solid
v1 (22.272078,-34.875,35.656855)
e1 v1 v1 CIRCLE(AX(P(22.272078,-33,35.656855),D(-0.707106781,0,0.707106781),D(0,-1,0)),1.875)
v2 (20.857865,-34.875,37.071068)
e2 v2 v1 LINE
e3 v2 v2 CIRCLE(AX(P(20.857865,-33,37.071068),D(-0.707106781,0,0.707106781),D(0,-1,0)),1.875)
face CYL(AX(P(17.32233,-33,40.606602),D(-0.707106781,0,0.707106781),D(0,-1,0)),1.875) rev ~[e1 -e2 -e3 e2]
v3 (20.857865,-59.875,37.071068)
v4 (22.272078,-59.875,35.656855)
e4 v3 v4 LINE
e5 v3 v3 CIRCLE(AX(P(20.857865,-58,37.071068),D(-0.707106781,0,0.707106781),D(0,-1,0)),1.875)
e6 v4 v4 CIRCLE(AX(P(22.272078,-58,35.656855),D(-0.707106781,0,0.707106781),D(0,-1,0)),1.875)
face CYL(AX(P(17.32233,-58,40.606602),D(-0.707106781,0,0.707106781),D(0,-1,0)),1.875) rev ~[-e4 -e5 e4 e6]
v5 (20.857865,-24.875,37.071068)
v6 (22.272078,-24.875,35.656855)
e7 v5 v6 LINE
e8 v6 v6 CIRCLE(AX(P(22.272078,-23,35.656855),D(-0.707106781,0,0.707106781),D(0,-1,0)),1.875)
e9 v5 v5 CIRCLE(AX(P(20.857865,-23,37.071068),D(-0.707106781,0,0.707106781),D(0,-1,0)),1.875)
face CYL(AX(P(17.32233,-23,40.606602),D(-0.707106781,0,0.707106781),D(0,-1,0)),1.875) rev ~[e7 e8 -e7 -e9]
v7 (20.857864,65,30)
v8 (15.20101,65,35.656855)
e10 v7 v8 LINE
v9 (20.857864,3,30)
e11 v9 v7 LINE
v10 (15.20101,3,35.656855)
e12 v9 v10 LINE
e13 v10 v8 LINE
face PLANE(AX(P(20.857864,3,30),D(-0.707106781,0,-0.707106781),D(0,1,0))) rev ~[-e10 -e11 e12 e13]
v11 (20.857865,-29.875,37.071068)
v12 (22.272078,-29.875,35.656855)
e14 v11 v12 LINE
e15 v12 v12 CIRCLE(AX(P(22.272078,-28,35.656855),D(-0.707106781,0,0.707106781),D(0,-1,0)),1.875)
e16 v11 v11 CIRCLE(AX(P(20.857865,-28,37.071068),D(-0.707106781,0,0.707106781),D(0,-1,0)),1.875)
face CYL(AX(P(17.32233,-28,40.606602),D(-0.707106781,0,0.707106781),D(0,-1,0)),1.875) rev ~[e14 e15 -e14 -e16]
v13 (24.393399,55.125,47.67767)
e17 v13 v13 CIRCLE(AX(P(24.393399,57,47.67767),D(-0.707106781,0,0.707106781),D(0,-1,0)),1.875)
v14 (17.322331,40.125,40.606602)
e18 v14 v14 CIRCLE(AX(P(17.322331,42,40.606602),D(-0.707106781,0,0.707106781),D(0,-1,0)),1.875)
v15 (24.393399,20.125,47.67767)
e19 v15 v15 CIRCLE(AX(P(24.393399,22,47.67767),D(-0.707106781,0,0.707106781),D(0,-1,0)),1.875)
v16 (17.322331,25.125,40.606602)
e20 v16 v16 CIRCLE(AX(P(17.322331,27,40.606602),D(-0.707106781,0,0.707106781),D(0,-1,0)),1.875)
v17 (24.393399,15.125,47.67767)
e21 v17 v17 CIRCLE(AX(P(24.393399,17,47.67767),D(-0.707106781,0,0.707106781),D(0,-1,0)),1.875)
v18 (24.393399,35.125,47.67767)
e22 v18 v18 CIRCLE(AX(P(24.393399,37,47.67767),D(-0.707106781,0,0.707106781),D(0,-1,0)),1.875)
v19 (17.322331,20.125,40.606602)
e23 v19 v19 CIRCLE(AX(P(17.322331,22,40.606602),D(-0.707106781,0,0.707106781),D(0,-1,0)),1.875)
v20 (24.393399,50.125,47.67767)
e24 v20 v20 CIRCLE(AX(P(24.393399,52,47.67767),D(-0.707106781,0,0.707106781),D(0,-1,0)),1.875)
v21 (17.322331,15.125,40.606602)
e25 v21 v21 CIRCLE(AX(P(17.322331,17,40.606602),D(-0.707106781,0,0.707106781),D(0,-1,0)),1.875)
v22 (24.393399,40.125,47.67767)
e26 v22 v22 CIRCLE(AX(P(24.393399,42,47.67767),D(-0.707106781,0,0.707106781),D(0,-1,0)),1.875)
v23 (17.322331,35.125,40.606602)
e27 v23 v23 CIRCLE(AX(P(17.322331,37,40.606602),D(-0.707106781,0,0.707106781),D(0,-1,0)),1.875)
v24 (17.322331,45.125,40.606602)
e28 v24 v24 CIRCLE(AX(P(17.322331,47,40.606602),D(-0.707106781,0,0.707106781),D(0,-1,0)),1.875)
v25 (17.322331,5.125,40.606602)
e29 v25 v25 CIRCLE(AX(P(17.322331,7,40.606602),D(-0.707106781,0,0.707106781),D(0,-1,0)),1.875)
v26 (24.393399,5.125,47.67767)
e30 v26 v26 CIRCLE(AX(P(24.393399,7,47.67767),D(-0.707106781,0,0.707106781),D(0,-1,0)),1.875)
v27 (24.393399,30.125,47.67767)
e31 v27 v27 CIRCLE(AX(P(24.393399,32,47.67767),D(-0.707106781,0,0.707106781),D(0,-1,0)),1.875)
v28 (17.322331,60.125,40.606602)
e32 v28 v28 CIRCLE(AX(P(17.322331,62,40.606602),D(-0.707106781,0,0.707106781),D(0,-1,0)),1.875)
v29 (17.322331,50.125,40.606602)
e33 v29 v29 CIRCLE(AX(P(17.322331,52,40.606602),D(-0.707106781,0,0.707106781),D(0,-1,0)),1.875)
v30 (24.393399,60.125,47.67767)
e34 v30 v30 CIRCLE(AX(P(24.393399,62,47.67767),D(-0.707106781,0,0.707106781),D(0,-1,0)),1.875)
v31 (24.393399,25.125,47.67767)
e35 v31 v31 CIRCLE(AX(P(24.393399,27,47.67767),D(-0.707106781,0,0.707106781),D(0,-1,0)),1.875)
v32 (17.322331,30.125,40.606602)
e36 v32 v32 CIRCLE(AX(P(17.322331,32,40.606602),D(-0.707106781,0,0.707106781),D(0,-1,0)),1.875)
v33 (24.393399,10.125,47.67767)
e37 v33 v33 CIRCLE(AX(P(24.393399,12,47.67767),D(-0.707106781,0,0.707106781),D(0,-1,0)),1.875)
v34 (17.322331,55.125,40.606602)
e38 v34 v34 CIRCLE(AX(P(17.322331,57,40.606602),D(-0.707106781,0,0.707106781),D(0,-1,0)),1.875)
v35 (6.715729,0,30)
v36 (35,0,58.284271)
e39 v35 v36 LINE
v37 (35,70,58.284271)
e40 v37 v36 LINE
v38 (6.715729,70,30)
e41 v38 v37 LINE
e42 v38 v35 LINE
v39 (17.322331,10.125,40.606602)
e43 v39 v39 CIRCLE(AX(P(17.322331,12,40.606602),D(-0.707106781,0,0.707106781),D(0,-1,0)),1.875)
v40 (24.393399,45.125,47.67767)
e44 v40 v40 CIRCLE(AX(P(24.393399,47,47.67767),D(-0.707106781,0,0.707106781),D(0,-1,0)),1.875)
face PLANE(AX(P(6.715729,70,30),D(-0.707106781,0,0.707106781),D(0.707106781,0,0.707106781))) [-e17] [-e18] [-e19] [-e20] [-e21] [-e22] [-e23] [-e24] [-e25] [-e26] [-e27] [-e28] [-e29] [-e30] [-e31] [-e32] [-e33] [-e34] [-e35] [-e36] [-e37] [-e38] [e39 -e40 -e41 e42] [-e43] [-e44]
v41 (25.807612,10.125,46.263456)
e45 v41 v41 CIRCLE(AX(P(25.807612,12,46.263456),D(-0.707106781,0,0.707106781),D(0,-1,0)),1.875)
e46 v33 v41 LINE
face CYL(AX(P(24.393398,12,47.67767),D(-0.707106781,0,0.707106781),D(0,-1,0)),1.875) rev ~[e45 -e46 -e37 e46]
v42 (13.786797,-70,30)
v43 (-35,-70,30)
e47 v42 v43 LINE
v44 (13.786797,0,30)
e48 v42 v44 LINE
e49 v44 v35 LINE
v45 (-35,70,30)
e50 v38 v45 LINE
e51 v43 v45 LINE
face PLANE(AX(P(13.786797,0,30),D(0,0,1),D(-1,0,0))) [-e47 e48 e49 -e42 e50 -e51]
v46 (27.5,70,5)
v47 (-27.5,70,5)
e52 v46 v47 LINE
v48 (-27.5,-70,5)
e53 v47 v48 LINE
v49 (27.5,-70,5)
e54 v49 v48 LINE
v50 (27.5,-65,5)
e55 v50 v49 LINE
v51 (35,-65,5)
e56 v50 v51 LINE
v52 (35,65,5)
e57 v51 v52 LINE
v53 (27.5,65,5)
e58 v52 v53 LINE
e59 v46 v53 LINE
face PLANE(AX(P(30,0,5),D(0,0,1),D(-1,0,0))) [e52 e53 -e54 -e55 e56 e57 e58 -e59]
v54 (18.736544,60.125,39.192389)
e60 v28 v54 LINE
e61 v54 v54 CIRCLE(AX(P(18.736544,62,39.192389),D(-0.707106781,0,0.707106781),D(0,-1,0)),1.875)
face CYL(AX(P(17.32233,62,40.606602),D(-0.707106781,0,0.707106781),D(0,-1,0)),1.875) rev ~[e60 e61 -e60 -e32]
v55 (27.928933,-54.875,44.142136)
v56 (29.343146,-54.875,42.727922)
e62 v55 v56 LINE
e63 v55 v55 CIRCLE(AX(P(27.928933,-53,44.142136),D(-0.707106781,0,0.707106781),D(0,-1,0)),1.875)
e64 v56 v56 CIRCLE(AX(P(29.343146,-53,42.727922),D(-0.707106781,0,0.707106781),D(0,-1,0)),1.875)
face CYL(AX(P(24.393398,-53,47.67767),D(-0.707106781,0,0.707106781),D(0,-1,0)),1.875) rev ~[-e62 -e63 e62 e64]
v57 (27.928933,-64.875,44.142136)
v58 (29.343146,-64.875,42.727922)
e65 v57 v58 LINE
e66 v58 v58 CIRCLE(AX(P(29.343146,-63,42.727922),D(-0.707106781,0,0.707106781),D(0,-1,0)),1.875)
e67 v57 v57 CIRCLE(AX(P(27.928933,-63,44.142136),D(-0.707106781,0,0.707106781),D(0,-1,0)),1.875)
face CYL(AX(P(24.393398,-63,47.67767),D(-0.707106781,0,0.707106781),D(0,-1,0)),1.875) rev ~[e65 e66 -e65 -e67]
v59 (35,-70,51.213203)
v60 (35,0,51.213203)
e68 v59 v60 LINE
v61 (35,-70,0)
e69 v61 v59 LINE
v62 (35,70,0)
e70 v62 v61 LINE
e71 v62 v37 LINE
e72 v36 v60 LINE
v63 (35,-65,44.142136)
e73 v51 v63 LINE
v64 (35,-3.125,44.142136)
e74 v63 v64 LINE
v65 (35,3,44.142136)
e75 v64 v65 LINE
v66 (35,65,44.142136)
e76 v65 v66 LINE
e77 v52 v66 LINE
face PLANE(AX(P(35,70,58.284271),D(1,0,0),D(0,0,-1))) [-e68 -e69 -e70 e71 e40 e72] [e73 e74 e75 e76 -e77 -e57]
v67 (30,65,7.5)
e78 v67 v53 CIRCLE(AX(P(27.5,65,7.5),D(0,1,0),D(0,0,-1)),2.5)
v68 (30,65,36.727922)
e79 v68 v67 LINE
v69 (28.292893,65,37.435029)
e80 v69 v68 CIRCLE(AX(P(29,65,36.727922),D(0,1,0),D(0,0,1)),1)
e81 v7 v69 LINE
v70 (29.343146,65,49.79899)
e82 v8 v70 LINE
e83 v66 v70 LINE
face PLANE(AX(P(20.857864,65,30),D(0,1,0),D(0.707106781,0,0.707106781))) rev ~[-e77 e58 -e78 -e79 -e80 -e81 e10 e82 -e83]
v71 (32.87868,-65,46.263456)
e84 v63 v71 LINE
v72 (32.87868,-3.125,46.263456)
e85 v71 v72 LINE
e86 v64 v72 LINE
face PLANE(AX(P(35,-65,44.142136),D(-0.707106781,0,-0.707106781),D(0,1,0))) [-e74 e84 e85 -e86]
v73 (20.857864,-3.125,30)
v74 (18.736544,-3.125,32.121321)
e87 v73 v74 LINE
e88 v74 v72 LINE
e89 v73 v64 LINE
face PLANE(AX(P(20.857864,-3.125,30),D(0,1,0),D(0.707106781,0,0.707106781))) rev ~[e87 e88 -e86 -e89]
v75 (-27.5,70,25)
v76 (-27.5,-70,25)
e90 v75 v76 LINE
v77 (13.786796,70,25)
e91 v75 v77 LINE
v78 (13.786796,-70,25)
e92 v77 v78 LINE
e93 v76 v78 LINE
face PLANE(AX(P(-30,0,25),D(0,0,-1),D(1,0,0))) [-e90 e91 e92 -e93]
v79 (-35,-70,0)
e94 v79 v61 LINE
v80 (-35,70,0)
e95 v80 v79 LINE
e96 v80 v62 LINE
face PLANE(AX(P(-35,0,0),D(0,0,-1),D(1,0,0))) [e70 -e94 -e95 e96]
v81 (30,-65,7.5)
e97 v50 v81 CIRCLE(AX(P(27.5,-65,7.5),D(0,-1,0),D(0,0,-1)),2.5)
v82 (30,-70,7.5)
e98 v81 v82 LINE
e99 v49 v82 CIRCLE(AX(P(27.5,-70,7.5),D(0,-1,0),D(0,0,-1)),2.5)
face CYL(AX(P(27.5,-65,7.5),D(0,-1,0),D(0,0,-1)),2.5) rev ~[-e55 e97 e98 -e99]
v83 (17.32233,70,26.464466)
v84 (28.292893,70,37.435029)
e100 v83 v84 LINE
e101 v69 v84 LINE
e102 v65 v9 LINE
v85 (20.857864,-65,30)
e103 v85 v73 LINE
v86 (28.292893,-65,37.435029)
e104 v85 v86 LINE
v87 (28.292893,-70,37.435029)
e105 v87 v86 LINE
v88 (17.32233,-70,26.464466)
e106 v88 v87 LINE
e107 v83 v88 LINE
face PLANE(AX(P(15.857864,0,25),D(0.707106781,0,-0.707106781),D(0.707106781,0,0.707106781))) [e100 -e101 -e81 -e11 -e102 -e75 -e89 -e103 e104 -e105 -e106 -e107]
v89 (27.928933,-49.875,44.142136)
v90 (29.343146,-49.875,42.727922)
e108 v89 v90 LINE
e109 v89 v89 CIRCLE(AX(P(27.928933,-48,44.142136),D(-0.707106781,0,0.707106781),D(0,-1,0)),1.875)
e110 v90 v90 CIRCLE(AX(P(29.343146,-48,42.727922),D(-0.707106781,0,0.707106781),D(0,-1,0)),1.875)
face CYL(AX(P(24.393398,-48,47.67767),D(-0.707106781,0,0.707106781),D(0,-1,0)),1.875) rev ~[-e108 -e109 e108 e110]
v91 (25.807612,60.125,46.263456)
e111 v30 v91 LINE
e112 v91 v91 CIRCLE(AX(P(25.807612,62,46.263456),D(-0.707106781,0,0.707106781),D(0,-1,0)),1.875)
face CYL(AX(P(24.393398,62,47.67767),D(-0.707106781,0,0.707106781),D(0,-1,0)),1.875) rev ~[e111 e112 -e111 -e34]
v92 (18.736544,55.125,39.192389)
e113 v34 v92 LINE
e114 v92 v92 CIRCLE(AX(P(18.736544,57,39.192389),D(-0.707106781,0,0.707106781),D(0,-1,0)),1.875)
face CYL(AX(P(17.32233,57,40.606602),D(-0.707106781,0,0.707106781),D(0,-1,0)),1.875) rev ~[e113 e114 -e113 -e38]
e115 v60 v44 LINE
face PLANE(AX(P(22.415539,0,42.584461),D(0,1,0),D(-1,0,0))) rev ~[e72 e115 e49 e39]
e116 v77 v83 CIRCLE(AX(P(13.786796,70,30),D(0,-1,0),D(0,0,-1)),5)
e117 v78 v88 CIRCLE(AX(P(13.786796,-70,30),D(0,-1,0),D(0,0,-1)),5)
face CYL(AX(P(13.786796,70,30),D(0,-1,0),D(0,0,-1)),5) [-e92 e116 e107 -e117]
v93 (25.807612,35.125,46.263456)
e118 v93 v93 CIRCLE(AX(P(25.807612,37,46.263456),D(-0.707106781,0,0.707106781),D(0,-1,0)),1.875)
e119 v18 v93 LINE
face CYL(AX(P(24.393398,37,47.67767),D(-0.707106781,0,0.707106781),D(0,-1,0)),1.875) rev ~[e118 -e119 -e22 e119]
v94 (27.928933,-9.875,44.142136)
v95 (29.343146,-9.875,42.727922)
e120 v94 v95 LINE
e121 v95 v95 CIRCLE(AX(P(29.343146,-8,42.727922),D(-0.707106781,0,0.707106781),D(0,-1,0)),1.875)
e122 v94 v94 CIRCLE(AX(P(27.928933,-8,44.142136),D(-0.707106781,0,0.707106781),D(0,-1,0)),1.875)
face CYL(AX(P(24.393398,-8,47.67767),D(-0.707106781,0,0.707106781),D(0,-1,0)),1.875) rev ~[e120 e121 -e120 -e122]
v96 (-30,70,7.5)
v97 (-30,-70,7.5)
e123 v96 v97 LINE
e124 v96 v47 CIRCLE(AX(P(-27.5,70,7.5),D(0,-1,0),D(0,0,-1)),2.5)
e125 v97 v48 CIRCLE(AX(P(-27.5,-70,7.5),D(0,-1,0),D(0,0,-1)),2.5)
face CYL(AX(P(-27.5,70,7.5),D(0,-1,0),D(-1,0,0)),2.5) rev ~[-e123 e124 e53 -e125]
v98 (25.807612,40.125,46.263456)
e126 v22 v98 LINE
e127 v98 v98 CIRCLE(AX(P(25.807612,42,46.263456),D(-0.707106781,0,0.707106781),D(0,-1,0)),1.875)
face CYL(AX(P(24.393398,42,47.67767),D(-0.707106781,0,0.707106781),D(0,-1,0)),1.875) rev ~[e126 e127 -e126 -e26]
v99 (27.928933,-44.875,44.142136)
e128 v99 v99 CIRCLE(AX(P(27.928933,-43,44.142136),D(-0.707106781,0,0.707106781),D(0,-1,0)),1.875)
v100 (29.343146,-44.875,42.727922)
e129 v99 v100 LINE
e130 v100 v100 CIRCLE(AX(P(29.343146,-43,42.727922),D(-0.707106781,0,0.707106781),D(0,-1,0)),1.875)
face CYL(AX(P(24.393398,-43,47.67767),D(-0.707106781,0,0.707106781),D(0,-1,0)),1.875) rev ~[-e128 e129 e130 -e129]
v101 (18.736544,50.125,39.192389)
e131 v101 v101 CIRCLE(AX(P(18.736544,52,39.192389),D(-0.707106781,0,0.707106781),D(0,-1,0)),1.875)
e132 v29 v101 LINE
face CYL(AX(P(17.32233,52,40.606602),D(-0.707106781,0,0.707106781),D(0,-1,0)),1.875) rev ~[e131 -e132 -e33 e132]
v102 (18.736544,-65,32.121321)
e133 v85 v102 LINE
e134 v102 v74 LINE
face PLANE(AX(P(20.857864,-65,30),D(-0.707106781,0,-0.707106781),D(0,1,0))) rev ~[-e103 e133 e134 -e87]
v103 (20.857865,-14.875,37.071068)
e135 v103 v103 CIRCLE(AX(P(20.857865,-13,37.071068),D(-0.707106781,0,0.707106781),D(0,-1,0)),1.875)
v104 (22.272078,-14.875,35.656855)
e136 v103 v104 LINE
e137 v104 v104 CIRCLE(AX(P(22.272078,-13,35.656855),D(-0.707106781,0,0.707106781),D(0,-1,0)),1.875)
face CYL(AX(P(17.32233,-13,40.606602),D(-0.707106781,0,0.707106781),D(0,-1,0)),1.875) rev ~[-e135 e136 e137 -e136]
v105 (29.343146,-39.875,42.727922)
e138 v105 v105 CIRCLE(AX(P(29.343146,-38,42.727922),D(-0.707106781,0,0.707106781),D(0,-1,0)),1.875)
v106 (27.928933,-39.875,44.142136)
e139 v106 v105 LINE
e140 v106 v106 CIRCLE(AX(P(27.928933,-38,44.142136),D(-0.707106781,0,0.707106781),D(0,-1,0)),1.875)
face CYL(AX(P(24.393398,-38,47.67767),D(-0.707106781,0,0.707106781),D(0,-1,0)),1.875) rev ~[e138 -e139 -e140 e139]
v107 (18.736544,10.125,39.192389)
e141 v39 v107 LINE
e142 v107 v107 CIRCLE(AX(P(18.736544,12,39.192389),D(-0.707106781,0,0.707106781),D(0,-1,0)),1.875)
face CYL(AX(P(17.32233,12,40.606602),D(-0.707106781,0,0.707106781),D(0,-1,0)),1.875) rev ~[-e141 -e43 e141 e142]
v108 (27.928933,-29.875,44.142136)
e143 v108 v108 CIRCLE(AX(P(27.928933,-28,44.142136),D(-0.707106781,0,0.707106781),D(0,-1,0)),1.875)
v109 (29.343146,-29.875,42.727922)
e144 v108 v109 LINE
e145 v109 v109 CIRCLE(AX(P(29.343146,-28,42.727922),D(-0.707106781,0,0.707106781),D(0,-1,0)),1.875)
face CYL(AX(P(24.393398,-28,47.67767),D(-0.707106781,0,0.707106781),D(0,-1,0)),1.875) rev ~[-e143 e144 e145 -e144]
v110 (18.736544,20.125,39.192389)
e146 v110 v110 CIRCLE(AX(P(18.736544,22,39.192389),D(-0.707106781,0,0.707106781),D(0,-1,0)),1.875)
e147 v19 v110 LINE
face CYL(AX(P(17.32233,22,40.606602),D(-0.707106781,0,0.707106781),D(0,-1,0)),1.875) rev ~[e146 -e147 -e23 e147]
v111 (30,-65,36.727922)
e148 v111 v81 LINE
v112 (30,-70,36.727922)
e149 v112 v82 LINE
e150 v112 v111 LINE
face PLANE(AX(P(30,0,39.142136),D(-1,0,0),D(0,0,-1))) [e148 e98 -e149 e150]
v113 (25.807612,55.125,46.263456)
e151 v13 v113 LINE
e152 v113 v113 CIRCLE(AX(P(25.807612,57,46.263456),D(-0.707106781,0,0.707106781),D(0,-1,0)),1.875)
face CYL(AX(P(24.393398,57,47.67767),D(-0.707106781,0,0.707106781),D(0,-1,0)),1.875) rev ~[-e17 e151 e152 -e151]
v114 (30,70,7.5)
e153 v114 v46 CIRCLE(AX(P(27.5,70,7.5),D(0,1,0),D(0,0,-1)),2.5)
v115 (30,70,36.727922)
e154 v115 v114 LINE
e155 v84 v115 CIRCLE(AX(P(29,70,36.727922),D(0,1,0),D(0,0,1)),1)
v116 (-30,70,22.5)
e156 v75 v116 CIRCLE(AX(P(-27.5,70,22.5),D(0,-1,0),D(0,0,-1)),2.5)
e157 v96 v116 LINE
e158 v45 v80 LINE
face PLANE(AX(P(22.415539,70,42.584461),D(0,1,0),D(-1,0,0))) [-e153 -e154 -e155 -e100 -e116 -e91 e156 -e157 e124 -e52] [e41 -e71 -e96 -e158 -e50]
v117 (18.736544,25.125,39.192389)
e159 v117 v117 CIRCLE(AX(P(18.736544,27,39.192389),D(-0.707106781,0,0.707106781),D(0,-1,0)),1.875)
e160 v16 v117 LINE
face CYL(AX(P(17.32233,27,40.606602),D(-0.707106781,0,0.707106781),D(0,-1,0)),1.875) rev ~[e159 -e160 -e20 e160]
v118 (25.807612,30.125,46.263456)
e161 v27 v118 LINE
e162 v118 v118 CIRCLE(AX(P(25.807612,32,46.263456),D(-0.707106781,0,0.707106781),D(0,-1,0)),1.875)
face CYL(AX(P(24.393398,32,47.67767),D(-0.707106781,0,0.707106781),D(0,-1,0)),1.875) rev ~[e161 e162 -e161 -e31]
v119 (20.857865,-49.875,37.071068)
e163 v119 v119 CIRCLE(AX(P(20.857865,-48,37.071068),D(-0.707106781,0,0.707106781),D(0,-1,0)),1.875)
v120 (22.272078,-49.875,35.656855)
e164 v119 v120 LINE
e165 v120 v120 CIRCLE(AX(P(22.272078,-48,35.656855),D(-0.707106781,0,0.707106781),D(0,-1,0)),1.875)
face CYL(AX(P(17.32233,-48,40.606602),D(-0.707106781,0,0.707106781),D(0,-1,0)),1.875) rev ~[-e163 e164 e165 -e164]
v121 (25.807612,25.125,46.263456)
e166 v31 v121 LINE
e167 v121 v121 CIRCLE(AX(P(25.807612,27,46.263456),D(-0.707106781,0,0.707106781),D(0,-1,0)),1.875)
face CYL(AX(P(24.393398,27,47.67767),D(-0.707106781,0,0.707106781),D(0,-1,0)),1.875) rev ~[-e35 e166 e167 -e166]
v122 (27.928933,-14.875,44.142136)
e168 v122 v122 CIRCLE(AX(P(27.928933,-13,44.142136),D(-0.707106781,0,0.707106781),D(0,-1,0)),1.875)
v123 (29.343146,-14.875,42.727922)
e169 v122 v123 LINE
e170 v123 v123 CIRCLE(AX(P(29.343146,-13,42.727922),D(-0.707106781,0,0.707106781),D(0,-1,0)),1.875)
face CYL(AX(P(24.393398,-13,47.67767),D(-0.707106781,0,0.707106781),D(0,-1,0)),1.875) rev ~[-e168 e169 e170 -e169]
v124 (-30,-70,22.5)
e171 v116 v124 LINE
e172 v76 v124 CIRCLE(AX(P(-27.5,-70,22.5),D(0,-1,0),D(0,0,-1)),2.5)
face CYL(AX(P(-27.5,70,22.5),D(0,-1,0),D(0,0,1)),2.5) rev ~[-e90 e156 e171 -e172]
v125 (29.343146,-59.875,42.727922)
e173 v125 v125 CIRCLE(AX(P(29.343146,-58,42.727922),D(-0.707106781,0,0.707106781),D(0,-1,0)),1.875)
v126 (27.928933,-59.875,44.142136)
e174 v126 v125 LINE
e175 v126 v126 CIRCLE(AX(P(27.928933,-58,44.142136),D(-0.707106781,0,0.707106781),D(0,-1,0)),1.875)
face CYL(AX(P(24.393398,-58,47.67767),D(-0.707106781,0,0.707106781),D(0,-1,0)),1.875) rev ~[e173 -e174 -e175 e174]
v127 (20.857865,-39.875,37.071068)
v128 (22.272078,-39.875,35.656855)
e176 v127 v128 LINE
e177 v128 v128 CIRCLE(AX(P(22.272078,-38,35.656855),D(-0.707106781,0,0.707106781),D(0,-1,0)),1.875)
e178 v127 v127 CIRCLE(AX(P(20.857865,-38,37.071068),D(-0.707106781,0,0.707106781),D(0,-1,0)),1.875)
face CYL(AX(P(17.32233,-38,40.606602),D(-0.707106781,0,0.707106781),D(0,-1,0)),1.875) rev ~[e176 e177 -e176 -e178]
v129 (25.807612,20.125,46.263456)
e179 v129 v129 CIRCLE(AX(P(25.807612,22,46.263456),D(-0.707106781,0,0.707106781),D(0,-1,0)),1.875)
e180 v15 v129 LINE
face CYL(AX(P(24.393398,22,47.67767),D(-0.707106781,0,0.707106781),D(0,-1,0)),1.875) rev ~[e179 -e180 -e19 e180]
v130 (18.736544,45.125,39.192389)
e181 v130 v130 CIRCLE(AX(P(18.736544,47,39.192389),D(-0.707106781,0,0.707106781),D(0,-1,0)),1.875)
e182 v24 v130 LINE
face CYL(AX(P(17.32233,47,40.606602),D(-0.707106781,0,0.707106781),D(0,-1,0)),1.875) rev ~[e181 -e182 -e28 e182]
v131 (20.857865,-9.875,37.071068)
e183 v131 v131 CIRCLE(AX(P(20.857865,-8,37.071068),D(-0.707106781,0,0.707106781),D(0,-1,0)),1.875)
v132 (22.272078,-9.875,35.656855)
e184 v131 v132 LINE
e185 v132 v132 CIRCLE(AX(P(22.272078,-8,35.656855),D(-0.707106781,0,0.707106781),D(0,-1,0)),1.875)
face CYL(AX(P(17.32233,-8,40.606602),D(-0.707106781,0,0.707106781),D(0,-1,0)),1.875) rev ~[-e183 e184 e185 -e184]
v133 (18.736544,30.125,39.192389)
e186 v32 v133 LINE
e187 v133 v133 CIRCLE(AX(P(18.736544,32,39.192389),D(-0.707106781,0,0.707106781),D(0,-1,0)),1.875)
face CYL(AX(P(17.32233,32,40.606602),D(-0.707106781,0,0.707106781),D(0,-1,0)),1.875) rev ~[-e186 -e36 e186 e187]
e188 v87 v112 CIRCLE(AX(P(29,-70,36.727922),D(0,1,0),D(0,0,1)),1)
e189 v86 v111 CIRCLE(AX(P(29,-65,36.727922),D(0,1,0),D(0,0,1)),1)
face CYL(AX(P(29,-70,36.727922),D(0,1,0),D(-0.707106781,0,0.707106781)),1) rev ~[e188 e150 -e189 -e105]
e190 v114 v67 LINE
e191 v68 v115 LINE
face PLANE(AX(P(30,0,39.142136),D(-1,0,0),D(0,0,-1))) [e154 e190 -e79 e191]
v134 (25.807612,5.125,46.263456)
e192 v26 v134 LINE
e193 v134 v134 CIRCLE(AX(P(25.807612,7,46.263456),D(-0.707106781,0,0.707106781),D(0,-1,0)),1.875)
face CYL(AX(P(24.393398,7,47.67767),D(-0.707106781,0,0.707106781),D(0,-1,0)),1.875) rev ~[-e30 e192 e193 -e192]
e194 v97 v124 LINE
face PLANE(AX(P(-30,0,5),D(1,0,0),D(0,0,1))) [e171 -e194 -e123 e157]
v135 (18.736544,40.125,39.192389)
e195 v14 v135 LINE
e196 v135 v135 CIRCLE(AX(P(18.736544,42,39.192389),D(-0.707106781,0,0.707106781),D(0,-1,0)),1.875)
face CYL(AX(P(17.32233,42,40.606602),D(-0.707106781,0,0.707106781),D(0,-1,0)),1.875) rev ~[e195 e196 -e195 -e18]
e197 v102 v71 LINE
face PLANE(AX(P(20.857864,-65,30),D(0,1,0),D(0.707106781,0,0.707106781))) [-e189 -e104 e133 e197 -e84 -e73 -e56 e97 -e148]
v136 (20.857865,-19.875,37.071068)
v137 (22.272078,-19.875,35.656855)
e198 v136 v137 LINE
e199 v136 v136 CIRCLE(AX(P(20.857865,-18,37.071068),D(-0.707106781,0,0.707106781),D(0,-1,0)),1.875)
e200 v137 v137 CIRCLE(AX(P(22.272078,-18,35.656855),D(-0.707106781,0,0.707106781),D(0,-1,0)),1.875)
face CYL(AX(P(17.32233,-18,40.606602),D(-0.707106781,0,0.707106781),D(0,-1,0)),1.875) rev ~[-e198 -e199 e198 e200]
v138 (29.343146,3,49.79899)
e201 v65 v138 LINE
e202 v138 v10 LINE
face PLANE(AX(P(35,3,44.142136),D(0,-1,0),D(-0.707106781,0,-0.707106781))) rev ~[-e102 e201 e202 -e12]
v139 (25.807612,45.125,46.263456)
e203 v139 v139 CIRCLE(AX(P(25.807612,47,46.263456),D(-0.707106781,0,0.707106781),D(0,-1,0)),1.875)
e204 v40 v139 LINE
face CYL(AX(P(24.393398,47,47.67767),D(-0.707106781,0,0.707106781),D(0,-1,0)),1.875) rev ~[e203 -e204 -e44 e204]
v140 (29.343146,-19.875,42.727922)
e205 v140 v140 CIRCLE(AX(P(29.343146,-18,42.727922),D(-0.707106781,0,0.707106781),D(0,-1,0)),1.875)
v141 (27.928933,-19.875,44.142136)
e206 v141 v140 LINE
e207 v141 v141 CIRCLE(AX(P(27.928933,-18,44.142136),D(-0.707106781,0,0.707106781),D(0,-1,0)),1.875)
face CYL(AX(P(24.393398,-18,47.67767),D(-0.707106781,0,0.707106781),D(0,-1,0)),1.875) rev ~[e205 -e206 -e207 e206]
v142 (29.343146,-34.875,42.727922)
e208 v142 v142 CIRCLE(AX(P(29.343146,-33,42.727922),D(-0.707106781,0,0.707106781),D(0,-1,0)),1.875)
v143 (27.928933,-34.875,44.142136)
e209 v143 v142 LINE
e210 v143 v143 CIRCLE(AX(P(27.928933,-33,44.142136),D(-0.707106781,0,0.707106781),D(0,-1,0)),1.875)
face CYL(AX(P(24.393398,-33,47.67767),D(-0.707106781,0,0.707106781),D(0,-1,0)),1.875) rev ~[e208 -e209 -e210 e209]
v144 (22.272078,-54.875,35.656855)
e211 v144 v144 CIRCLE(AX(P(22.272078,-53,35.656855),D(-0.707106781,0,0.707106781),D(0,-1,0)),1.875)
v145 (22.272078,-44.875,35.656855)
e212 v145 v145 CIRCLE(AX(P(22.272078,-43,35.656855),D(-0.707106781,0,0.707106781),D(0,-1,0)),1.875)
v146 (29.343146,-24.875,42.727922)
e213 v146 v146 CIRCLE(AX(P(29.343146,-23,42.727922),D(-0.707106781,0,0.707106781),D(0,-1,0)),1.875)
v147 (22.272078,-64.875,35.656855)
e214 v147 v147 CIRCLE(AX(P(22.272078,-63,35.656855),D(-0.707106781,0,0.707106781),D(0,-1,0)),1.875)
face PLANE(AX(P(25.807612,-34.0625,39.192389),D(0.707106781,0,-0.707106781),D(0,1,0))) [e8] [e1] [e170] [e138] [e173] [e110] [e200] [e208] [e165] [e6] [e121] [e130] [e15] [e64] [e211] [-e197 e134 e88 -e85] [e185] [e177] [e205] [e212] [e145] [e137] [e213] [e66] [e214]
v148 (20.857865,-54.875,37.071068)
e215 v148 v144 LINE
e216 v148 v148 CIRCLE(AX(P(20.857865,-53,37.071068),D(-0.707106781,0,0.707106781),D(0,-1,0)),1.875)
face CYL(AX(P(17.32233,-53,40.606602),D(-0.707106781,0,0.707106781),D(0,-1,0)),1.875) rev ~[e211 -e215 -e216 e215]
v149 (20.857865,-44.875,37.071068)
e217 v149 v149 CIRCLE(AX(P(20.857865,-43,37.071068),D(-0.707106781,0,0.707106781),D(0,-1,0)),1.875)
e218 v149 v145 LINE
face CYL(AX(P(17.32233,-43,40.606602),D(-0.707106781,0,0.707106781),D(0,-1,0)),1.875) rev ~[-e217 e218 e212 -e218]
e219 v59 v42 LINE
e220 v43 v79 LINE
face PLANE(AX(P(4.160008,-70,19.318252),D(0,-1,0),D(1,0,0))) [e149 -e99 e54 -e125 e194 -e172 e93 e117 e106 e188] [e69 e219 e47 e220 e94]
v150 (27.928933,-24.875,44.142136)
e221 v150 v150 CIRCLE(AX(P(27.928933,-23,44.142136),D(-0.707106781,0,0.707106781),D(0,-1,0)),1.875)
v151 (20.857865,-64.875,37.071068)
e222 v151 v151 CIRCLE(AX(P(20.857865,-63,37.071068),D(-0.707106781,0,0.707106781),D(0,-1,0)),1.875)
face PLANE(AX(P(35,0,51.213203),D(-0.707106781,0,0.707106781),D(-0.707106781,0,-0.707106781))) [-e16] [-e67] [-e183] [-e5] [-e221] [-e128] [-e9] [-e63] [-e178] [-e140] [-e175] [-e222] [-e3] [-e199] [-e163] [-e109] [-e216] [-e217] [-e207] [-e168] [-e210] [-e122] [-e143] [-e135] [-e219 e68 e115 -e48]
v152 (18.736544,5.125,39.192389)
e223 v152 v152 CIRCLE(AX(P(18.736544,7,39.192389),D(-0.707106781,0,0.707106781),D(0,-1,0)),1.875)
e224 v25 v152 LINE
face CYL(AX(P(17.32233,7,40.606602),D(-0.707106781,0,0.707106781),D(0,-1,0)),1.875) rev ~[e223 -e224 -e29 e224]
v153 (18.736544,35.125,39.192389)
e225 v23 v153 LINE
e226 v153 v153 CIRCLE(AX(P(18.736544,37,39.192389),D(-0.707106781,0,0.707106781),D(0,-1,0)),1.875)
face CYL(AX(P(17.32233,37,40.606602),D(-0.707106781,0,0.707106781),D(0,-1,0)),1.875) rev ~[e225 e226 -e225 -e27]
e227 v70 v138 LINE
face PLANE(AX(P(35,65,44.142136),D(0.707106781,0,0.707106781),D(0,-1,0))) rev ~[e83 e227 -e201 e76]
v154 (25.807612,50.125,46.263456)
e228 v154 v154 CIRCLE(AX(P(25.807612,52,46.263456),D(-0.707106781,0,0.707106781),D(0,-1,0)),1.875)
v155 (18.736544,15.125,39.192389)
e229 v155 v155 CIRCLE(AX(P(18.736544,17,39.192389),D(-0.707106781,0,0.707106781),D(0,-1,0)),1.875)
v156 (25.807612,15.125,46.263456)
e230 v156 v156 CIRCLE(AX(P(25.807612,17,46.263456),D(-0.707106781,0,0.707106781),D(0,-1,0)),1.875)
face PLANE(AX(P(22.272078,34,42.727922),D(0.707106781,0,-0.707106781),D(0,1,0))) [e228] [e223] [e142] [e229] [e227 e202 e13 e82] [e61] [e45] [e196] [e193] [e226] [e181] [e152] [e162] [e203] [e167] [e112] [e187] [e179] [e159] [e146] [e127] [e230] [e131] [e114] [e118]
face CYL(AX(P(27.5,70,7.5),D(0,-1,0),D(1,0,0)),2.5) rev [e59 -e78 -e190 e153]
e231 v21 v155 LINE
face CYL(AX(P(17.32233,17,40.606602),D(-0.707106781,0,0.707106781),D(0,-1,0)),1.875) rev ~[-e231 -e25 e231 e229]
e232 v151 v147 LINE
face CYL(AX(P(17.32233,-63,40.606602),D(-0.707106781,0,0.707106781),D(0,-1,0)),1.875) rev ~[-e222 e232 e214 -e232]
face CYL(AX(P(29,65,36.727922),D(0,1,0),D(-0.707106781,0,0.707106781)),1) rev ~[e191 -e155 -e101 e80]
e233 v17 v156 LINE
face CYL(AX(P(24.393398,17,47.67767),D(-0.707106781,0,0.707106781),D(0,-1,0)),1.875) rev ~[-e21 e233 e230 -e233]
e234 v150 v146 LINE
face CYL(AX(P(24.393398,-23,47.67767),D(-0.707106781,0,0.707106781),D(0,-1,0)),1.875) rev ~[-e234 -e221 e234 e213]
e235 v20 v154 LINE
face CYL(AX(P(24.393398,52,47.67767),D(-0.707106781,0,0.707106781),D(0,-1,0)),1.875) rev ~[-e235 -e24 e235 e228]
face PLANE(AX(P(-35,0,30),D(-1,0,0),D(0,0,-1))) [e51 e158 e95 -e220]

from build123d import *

# Parameters (mm, degrees)
F1_DEPTH  = 70
F3_DEPTH  = 65
F5_DEPTH  = 70
F6_R      = 2.5
F7_R      = 5
F8_R      = 1
F9_R      = 1.875
F10_DEPTH = 41.214203
F11_W     = 61.875
F11_H     = 20
F12_DEPTH = 3
F13_R     = 1.875
F14_DEPTH = 8


with BuildPart() as f1:
    # F0 (on Front) → F1 (new body, symmetric)
    with BuildSketch(Plane.XZ):
        Polygon((-35, 30), (-35, 0), (35, 0), (35, 30), (35, 51.213203), (13.786797, 30), align=None)
        Polygon((30, 5), (-30, 5), (-30, 25), (15.857864, 25), (30, 39.142136), (30, 30), align=None, mode=Mode.SUBTRACT)
    extrude(amount=F1_DEPTH, both=True)

    # F2 (on Front) → F3 (cut, symmetric)
    with BuildSketch(Plane.XZ):
        Polygon((35, 44.142136), (30, 39.142136), (30, 5), (35, 5), align=None)
    extrude(amount=F3_DEPTH, both=True, mode=Mode.SUBTRACT)

    # F4 (on face) → F5 (join)
    with BuildSketch(Plane(origin=(0, 70, 0), x_dir=(-1, 0, 0), z_dir=(0, 1, 0))):
        Polygon((-13.786797, 30), (-6.715729, 30), (-35, 58.284271), (-35, 51.213203), align=None)
    extrude(amount=-F5_DEPTH)

    # F6
    f6_edges = [f1.edges().sort_by_distance(p)[0] for p in [
        (-30, 0, 5),
        (-30, 0, 25),
        (30, 67.5, 5),
        (30, -67.5, 5),
    ]]
    fillet(f6_edges, radius=F6_R)

    # F7
    f7_edges = [f1.edges().sort_by_distance(p)[0] for p in [
        (15.857864, 0, 25),
    ]]
    fillet(f7_edges, radius=F7_R)

    # F8
    f8_edges = [f1.edges().sort_by_distance(p)[0] for p in [
        (30, 67.5, 39.142136),
        (30, -67.5, 39.142136),
    ]]
    fillet(f8_edges, radius=F8_R)

    # F9 (on face) → F10 (cut, through all)
    with BuildSketch(Plane(origin=(-11.642136, 0, 11.642136), x_dir=(0, -1, 0), z_dir=(-0.707107, 0, 0.707107))):
        with Locations((-62, 50.961941)):
            Circle(F9_R)
        with Locations((-57, 50.961941)):
            Circle(F9_R)
        with Locations((-52, 50.961941)):
            Circle(F9_R)
        with Locations((-47, 50.961941)):
            Circle(F9_R)
        with Locations((-42, 50.961941)):
            Circle(F9_R)
        with Locations((-37, 50.961941)):
            Circle(F9_R)
        with Locations((-32, 50.961941)):
            Circle(F9_R)
        with Locations((-27, 50.961941)):
            Circle(F9_R)
        with Locations((-22, 50.961941)):
            Circle(F9_R)
        with Locations((-17, 50.961941)):
            Circle(F9_R)
        with Locations((-12, 50.961941)):
            Circle(F9_R)
        with Locations((-7, 50.961941)):
            Circle(F9_R)
        with Locations((8, 50.961941)):
            Circle(F9_R)
        with Locations((13, 50.961941)):
            Circle(F9_R)
        with Locations((18, 50.961941)):
            Circle(F9_R)
        with Locations((23, 50.961941)):
            Circle(F9_R)
        with Locations((28, 50.961941)):
            Circle(F9_R)
        with Locations((33, 50.961941)):
            Circle(F9_R)
        with Locations((38, 50.961941)):
            Circle(F9_R)
        with Locations((43, 50.961941)):
            Circle(F9_R)
        with Locations((48, 50.961941)):
            Circle(F9_R)
        with Locations((53, 50.961941)):
            Circle(F9_R)
        with Locations((58, 50.961941)):
            Circle(F9_R)
        with Locations((63, 50.961941)):
            Circle(F9_R)
        with Locations((-62, 40.961941)):
            Circle(F9_R)
        with Locations((-57, 40.961941)):
            Circle(F9_R)
        with Locations((-52, 40.961941)):
            Circle(F9_R)
        with Locations((-47, 40.961941)):
            Circle(F9_R)
        with Locations((-42, 40.961941)):
            Circle(F9_R)
        with Locations((-37, 40.961941)):
            Circle(F9_R)
        with Locations((-32, 40.961941)):
            Circle(F9_R)
        with Locations((-27, 40.961941)):
            Circle(F9_R)
        with Locations((-22, 40.961941)):
            Circle(F9_R)
        with Locations((-17, 40.961941)):
            Circle(F9_R)
        with Locations((-12, 40.961941)):
            Circle(F9_R)
        with Locations((-7, 40.961941)):
            Circle(F9_R)
        with Locations((8, 40.961941)):
            Circle(F9_R)
        with Locations((13, 40.961941)):
            Circle(F9_R)
        with Locations((18, 40.961941)):
            Circle(F9_R)
        with Locations((23, 40.961941)):
            Circle(F9_R)
        with Locations((28, 40.961941)):
            Circle(F9_R)
        with Locations((33, 40.961941)):
            Circle(F9_R)
        with Locations((38, 40.961941)):
            Circle(F9_R)
        with Locations((43, 40.961941)):
            Circle(F9_R)
        with Locations((48, 40.961941)):
            Circle(F9_R)
        with Locations((53, 40.961941)):
            Circle(F9_R)
        with Locations((58, 40.961941)):
            Circle(F9_R)
        with Locations((63, 40.961941)):
            Circle(F9_R)
    extrude(amount=-F10_DEPTH, mode=Mode.SUBTRACT)

    # F11 (on face) → F12 (cut)
    with BuildSketch(Plane(origin=(-4.571068, 0, 4.571068), x_dir=(0, 1, 0), z_dir=(0.707107, 0, -0.707107))):
        with Locations((-34.0625, 45.961941)):
            Rectangle(F11_W, F11_H)
    extrude(amount=-F12_DEPTH, mode=Mode.SUBTRACT)

    # F13 (on face) → F14 (cut)
    with BuildSketch(Plane(origin=(-4.571068, 0, 4.571068), x_dir=(0, 1, 0), z_dir=(0.707107, 0, -0.707107))):
        Polygon((65, 55.961941), (3, 55.961941), (3, 35.961941), (65, 35.961941), (65, 46.47666), align=None)
        with Locations((7, 40.961941)):
            Circle(F13_R, mode=Mode.SUBTRACT)
        with Locations((12, 40.961941)):
            Circle(F13_R, mode=Mode.SUBTRACT)
        with Locations((17, 40.961941)):
            Circle(F13_R, mode=Mode.SUBTRACT)
        with Locations((22, 40.961941)):
            Circle(F13_R, mode=Mode.SUBTRACT)
        with Locations((27, 40.961941)):
            Circle(F13_R, mode=Mode.SUBTRACT)
        with Locations((32, 40.961941)):
            Circle(F13_R, mode=Mode.SUBTRACT)
        with Locations((37, 40.961941)):
            Circle(F13_R, mode=Mode.SUBTRACT)
        with Locations((42, 40.961941)):
            Circle(F13_R, mode=Mode.SUBTRACT)
        with Locations((47, 40.961941)):
            Circle(F13_R, mode=Mode.SUBTRACT)
        with Locations((52, 40.961941)):
            Circle(F13_R, mode=Mode.SUBTRACT)
        with Locations((57, 40.961941)):
            Circle(F13_R, mode=Mode.SUBTRACT)
        with Locations((62, 40.961941)):
            Circle(F13_R, mode=Mode.SUBTRACT)
        with Locations((7, 50.961941)):
            Circle(F13_R, mode=Mode.SUBTRACT)
        with Locations((12, 50.961941)):
            Circle(F13_R, mode=Mode.SUBTRACT)
        with Locations((17, 50.961941)):
            Circle(F13_R, mode=Mode.SUBTRACT)
        with Locations((22, 50.961941)):
            Circle(F13_R, mode=Mode.SUBTRACT)
        with Locations((27, 50.961941)):
            Circle(F13_R, mode=Mode.SUBTRACT)
        with Locations((32, 50.961941)):
            Circle(F13_R, mode=Mode.SUBTRACT)
        with Locations((37, 50.961941)):
            Circle(F13_R, mode=Mode.SUBTRACT)
        with Locations((42, 50.961941)):
            Circle(F13_R, mode=Mode.SUBTRACT)
        with Locations((47, 50.961941)):
            Circle(F13_R, mode=Mode.SUBTRACT)
        with Locations((52, 50.961941)):
            Circle(F13_R, mode=Mode.SUBTRACT)
        with Locations((57, 50.961941)):
            Circle(F13_R, mode=Mode.SUBTRACT)
        with Locations((62, 50.961941)):
            Circle(F13_R, mode=Mode.SUBTRACT)
    extrude(amount=-F14_DEPTH, mode=Mode.SUBTRACT)


solid = f1.part
